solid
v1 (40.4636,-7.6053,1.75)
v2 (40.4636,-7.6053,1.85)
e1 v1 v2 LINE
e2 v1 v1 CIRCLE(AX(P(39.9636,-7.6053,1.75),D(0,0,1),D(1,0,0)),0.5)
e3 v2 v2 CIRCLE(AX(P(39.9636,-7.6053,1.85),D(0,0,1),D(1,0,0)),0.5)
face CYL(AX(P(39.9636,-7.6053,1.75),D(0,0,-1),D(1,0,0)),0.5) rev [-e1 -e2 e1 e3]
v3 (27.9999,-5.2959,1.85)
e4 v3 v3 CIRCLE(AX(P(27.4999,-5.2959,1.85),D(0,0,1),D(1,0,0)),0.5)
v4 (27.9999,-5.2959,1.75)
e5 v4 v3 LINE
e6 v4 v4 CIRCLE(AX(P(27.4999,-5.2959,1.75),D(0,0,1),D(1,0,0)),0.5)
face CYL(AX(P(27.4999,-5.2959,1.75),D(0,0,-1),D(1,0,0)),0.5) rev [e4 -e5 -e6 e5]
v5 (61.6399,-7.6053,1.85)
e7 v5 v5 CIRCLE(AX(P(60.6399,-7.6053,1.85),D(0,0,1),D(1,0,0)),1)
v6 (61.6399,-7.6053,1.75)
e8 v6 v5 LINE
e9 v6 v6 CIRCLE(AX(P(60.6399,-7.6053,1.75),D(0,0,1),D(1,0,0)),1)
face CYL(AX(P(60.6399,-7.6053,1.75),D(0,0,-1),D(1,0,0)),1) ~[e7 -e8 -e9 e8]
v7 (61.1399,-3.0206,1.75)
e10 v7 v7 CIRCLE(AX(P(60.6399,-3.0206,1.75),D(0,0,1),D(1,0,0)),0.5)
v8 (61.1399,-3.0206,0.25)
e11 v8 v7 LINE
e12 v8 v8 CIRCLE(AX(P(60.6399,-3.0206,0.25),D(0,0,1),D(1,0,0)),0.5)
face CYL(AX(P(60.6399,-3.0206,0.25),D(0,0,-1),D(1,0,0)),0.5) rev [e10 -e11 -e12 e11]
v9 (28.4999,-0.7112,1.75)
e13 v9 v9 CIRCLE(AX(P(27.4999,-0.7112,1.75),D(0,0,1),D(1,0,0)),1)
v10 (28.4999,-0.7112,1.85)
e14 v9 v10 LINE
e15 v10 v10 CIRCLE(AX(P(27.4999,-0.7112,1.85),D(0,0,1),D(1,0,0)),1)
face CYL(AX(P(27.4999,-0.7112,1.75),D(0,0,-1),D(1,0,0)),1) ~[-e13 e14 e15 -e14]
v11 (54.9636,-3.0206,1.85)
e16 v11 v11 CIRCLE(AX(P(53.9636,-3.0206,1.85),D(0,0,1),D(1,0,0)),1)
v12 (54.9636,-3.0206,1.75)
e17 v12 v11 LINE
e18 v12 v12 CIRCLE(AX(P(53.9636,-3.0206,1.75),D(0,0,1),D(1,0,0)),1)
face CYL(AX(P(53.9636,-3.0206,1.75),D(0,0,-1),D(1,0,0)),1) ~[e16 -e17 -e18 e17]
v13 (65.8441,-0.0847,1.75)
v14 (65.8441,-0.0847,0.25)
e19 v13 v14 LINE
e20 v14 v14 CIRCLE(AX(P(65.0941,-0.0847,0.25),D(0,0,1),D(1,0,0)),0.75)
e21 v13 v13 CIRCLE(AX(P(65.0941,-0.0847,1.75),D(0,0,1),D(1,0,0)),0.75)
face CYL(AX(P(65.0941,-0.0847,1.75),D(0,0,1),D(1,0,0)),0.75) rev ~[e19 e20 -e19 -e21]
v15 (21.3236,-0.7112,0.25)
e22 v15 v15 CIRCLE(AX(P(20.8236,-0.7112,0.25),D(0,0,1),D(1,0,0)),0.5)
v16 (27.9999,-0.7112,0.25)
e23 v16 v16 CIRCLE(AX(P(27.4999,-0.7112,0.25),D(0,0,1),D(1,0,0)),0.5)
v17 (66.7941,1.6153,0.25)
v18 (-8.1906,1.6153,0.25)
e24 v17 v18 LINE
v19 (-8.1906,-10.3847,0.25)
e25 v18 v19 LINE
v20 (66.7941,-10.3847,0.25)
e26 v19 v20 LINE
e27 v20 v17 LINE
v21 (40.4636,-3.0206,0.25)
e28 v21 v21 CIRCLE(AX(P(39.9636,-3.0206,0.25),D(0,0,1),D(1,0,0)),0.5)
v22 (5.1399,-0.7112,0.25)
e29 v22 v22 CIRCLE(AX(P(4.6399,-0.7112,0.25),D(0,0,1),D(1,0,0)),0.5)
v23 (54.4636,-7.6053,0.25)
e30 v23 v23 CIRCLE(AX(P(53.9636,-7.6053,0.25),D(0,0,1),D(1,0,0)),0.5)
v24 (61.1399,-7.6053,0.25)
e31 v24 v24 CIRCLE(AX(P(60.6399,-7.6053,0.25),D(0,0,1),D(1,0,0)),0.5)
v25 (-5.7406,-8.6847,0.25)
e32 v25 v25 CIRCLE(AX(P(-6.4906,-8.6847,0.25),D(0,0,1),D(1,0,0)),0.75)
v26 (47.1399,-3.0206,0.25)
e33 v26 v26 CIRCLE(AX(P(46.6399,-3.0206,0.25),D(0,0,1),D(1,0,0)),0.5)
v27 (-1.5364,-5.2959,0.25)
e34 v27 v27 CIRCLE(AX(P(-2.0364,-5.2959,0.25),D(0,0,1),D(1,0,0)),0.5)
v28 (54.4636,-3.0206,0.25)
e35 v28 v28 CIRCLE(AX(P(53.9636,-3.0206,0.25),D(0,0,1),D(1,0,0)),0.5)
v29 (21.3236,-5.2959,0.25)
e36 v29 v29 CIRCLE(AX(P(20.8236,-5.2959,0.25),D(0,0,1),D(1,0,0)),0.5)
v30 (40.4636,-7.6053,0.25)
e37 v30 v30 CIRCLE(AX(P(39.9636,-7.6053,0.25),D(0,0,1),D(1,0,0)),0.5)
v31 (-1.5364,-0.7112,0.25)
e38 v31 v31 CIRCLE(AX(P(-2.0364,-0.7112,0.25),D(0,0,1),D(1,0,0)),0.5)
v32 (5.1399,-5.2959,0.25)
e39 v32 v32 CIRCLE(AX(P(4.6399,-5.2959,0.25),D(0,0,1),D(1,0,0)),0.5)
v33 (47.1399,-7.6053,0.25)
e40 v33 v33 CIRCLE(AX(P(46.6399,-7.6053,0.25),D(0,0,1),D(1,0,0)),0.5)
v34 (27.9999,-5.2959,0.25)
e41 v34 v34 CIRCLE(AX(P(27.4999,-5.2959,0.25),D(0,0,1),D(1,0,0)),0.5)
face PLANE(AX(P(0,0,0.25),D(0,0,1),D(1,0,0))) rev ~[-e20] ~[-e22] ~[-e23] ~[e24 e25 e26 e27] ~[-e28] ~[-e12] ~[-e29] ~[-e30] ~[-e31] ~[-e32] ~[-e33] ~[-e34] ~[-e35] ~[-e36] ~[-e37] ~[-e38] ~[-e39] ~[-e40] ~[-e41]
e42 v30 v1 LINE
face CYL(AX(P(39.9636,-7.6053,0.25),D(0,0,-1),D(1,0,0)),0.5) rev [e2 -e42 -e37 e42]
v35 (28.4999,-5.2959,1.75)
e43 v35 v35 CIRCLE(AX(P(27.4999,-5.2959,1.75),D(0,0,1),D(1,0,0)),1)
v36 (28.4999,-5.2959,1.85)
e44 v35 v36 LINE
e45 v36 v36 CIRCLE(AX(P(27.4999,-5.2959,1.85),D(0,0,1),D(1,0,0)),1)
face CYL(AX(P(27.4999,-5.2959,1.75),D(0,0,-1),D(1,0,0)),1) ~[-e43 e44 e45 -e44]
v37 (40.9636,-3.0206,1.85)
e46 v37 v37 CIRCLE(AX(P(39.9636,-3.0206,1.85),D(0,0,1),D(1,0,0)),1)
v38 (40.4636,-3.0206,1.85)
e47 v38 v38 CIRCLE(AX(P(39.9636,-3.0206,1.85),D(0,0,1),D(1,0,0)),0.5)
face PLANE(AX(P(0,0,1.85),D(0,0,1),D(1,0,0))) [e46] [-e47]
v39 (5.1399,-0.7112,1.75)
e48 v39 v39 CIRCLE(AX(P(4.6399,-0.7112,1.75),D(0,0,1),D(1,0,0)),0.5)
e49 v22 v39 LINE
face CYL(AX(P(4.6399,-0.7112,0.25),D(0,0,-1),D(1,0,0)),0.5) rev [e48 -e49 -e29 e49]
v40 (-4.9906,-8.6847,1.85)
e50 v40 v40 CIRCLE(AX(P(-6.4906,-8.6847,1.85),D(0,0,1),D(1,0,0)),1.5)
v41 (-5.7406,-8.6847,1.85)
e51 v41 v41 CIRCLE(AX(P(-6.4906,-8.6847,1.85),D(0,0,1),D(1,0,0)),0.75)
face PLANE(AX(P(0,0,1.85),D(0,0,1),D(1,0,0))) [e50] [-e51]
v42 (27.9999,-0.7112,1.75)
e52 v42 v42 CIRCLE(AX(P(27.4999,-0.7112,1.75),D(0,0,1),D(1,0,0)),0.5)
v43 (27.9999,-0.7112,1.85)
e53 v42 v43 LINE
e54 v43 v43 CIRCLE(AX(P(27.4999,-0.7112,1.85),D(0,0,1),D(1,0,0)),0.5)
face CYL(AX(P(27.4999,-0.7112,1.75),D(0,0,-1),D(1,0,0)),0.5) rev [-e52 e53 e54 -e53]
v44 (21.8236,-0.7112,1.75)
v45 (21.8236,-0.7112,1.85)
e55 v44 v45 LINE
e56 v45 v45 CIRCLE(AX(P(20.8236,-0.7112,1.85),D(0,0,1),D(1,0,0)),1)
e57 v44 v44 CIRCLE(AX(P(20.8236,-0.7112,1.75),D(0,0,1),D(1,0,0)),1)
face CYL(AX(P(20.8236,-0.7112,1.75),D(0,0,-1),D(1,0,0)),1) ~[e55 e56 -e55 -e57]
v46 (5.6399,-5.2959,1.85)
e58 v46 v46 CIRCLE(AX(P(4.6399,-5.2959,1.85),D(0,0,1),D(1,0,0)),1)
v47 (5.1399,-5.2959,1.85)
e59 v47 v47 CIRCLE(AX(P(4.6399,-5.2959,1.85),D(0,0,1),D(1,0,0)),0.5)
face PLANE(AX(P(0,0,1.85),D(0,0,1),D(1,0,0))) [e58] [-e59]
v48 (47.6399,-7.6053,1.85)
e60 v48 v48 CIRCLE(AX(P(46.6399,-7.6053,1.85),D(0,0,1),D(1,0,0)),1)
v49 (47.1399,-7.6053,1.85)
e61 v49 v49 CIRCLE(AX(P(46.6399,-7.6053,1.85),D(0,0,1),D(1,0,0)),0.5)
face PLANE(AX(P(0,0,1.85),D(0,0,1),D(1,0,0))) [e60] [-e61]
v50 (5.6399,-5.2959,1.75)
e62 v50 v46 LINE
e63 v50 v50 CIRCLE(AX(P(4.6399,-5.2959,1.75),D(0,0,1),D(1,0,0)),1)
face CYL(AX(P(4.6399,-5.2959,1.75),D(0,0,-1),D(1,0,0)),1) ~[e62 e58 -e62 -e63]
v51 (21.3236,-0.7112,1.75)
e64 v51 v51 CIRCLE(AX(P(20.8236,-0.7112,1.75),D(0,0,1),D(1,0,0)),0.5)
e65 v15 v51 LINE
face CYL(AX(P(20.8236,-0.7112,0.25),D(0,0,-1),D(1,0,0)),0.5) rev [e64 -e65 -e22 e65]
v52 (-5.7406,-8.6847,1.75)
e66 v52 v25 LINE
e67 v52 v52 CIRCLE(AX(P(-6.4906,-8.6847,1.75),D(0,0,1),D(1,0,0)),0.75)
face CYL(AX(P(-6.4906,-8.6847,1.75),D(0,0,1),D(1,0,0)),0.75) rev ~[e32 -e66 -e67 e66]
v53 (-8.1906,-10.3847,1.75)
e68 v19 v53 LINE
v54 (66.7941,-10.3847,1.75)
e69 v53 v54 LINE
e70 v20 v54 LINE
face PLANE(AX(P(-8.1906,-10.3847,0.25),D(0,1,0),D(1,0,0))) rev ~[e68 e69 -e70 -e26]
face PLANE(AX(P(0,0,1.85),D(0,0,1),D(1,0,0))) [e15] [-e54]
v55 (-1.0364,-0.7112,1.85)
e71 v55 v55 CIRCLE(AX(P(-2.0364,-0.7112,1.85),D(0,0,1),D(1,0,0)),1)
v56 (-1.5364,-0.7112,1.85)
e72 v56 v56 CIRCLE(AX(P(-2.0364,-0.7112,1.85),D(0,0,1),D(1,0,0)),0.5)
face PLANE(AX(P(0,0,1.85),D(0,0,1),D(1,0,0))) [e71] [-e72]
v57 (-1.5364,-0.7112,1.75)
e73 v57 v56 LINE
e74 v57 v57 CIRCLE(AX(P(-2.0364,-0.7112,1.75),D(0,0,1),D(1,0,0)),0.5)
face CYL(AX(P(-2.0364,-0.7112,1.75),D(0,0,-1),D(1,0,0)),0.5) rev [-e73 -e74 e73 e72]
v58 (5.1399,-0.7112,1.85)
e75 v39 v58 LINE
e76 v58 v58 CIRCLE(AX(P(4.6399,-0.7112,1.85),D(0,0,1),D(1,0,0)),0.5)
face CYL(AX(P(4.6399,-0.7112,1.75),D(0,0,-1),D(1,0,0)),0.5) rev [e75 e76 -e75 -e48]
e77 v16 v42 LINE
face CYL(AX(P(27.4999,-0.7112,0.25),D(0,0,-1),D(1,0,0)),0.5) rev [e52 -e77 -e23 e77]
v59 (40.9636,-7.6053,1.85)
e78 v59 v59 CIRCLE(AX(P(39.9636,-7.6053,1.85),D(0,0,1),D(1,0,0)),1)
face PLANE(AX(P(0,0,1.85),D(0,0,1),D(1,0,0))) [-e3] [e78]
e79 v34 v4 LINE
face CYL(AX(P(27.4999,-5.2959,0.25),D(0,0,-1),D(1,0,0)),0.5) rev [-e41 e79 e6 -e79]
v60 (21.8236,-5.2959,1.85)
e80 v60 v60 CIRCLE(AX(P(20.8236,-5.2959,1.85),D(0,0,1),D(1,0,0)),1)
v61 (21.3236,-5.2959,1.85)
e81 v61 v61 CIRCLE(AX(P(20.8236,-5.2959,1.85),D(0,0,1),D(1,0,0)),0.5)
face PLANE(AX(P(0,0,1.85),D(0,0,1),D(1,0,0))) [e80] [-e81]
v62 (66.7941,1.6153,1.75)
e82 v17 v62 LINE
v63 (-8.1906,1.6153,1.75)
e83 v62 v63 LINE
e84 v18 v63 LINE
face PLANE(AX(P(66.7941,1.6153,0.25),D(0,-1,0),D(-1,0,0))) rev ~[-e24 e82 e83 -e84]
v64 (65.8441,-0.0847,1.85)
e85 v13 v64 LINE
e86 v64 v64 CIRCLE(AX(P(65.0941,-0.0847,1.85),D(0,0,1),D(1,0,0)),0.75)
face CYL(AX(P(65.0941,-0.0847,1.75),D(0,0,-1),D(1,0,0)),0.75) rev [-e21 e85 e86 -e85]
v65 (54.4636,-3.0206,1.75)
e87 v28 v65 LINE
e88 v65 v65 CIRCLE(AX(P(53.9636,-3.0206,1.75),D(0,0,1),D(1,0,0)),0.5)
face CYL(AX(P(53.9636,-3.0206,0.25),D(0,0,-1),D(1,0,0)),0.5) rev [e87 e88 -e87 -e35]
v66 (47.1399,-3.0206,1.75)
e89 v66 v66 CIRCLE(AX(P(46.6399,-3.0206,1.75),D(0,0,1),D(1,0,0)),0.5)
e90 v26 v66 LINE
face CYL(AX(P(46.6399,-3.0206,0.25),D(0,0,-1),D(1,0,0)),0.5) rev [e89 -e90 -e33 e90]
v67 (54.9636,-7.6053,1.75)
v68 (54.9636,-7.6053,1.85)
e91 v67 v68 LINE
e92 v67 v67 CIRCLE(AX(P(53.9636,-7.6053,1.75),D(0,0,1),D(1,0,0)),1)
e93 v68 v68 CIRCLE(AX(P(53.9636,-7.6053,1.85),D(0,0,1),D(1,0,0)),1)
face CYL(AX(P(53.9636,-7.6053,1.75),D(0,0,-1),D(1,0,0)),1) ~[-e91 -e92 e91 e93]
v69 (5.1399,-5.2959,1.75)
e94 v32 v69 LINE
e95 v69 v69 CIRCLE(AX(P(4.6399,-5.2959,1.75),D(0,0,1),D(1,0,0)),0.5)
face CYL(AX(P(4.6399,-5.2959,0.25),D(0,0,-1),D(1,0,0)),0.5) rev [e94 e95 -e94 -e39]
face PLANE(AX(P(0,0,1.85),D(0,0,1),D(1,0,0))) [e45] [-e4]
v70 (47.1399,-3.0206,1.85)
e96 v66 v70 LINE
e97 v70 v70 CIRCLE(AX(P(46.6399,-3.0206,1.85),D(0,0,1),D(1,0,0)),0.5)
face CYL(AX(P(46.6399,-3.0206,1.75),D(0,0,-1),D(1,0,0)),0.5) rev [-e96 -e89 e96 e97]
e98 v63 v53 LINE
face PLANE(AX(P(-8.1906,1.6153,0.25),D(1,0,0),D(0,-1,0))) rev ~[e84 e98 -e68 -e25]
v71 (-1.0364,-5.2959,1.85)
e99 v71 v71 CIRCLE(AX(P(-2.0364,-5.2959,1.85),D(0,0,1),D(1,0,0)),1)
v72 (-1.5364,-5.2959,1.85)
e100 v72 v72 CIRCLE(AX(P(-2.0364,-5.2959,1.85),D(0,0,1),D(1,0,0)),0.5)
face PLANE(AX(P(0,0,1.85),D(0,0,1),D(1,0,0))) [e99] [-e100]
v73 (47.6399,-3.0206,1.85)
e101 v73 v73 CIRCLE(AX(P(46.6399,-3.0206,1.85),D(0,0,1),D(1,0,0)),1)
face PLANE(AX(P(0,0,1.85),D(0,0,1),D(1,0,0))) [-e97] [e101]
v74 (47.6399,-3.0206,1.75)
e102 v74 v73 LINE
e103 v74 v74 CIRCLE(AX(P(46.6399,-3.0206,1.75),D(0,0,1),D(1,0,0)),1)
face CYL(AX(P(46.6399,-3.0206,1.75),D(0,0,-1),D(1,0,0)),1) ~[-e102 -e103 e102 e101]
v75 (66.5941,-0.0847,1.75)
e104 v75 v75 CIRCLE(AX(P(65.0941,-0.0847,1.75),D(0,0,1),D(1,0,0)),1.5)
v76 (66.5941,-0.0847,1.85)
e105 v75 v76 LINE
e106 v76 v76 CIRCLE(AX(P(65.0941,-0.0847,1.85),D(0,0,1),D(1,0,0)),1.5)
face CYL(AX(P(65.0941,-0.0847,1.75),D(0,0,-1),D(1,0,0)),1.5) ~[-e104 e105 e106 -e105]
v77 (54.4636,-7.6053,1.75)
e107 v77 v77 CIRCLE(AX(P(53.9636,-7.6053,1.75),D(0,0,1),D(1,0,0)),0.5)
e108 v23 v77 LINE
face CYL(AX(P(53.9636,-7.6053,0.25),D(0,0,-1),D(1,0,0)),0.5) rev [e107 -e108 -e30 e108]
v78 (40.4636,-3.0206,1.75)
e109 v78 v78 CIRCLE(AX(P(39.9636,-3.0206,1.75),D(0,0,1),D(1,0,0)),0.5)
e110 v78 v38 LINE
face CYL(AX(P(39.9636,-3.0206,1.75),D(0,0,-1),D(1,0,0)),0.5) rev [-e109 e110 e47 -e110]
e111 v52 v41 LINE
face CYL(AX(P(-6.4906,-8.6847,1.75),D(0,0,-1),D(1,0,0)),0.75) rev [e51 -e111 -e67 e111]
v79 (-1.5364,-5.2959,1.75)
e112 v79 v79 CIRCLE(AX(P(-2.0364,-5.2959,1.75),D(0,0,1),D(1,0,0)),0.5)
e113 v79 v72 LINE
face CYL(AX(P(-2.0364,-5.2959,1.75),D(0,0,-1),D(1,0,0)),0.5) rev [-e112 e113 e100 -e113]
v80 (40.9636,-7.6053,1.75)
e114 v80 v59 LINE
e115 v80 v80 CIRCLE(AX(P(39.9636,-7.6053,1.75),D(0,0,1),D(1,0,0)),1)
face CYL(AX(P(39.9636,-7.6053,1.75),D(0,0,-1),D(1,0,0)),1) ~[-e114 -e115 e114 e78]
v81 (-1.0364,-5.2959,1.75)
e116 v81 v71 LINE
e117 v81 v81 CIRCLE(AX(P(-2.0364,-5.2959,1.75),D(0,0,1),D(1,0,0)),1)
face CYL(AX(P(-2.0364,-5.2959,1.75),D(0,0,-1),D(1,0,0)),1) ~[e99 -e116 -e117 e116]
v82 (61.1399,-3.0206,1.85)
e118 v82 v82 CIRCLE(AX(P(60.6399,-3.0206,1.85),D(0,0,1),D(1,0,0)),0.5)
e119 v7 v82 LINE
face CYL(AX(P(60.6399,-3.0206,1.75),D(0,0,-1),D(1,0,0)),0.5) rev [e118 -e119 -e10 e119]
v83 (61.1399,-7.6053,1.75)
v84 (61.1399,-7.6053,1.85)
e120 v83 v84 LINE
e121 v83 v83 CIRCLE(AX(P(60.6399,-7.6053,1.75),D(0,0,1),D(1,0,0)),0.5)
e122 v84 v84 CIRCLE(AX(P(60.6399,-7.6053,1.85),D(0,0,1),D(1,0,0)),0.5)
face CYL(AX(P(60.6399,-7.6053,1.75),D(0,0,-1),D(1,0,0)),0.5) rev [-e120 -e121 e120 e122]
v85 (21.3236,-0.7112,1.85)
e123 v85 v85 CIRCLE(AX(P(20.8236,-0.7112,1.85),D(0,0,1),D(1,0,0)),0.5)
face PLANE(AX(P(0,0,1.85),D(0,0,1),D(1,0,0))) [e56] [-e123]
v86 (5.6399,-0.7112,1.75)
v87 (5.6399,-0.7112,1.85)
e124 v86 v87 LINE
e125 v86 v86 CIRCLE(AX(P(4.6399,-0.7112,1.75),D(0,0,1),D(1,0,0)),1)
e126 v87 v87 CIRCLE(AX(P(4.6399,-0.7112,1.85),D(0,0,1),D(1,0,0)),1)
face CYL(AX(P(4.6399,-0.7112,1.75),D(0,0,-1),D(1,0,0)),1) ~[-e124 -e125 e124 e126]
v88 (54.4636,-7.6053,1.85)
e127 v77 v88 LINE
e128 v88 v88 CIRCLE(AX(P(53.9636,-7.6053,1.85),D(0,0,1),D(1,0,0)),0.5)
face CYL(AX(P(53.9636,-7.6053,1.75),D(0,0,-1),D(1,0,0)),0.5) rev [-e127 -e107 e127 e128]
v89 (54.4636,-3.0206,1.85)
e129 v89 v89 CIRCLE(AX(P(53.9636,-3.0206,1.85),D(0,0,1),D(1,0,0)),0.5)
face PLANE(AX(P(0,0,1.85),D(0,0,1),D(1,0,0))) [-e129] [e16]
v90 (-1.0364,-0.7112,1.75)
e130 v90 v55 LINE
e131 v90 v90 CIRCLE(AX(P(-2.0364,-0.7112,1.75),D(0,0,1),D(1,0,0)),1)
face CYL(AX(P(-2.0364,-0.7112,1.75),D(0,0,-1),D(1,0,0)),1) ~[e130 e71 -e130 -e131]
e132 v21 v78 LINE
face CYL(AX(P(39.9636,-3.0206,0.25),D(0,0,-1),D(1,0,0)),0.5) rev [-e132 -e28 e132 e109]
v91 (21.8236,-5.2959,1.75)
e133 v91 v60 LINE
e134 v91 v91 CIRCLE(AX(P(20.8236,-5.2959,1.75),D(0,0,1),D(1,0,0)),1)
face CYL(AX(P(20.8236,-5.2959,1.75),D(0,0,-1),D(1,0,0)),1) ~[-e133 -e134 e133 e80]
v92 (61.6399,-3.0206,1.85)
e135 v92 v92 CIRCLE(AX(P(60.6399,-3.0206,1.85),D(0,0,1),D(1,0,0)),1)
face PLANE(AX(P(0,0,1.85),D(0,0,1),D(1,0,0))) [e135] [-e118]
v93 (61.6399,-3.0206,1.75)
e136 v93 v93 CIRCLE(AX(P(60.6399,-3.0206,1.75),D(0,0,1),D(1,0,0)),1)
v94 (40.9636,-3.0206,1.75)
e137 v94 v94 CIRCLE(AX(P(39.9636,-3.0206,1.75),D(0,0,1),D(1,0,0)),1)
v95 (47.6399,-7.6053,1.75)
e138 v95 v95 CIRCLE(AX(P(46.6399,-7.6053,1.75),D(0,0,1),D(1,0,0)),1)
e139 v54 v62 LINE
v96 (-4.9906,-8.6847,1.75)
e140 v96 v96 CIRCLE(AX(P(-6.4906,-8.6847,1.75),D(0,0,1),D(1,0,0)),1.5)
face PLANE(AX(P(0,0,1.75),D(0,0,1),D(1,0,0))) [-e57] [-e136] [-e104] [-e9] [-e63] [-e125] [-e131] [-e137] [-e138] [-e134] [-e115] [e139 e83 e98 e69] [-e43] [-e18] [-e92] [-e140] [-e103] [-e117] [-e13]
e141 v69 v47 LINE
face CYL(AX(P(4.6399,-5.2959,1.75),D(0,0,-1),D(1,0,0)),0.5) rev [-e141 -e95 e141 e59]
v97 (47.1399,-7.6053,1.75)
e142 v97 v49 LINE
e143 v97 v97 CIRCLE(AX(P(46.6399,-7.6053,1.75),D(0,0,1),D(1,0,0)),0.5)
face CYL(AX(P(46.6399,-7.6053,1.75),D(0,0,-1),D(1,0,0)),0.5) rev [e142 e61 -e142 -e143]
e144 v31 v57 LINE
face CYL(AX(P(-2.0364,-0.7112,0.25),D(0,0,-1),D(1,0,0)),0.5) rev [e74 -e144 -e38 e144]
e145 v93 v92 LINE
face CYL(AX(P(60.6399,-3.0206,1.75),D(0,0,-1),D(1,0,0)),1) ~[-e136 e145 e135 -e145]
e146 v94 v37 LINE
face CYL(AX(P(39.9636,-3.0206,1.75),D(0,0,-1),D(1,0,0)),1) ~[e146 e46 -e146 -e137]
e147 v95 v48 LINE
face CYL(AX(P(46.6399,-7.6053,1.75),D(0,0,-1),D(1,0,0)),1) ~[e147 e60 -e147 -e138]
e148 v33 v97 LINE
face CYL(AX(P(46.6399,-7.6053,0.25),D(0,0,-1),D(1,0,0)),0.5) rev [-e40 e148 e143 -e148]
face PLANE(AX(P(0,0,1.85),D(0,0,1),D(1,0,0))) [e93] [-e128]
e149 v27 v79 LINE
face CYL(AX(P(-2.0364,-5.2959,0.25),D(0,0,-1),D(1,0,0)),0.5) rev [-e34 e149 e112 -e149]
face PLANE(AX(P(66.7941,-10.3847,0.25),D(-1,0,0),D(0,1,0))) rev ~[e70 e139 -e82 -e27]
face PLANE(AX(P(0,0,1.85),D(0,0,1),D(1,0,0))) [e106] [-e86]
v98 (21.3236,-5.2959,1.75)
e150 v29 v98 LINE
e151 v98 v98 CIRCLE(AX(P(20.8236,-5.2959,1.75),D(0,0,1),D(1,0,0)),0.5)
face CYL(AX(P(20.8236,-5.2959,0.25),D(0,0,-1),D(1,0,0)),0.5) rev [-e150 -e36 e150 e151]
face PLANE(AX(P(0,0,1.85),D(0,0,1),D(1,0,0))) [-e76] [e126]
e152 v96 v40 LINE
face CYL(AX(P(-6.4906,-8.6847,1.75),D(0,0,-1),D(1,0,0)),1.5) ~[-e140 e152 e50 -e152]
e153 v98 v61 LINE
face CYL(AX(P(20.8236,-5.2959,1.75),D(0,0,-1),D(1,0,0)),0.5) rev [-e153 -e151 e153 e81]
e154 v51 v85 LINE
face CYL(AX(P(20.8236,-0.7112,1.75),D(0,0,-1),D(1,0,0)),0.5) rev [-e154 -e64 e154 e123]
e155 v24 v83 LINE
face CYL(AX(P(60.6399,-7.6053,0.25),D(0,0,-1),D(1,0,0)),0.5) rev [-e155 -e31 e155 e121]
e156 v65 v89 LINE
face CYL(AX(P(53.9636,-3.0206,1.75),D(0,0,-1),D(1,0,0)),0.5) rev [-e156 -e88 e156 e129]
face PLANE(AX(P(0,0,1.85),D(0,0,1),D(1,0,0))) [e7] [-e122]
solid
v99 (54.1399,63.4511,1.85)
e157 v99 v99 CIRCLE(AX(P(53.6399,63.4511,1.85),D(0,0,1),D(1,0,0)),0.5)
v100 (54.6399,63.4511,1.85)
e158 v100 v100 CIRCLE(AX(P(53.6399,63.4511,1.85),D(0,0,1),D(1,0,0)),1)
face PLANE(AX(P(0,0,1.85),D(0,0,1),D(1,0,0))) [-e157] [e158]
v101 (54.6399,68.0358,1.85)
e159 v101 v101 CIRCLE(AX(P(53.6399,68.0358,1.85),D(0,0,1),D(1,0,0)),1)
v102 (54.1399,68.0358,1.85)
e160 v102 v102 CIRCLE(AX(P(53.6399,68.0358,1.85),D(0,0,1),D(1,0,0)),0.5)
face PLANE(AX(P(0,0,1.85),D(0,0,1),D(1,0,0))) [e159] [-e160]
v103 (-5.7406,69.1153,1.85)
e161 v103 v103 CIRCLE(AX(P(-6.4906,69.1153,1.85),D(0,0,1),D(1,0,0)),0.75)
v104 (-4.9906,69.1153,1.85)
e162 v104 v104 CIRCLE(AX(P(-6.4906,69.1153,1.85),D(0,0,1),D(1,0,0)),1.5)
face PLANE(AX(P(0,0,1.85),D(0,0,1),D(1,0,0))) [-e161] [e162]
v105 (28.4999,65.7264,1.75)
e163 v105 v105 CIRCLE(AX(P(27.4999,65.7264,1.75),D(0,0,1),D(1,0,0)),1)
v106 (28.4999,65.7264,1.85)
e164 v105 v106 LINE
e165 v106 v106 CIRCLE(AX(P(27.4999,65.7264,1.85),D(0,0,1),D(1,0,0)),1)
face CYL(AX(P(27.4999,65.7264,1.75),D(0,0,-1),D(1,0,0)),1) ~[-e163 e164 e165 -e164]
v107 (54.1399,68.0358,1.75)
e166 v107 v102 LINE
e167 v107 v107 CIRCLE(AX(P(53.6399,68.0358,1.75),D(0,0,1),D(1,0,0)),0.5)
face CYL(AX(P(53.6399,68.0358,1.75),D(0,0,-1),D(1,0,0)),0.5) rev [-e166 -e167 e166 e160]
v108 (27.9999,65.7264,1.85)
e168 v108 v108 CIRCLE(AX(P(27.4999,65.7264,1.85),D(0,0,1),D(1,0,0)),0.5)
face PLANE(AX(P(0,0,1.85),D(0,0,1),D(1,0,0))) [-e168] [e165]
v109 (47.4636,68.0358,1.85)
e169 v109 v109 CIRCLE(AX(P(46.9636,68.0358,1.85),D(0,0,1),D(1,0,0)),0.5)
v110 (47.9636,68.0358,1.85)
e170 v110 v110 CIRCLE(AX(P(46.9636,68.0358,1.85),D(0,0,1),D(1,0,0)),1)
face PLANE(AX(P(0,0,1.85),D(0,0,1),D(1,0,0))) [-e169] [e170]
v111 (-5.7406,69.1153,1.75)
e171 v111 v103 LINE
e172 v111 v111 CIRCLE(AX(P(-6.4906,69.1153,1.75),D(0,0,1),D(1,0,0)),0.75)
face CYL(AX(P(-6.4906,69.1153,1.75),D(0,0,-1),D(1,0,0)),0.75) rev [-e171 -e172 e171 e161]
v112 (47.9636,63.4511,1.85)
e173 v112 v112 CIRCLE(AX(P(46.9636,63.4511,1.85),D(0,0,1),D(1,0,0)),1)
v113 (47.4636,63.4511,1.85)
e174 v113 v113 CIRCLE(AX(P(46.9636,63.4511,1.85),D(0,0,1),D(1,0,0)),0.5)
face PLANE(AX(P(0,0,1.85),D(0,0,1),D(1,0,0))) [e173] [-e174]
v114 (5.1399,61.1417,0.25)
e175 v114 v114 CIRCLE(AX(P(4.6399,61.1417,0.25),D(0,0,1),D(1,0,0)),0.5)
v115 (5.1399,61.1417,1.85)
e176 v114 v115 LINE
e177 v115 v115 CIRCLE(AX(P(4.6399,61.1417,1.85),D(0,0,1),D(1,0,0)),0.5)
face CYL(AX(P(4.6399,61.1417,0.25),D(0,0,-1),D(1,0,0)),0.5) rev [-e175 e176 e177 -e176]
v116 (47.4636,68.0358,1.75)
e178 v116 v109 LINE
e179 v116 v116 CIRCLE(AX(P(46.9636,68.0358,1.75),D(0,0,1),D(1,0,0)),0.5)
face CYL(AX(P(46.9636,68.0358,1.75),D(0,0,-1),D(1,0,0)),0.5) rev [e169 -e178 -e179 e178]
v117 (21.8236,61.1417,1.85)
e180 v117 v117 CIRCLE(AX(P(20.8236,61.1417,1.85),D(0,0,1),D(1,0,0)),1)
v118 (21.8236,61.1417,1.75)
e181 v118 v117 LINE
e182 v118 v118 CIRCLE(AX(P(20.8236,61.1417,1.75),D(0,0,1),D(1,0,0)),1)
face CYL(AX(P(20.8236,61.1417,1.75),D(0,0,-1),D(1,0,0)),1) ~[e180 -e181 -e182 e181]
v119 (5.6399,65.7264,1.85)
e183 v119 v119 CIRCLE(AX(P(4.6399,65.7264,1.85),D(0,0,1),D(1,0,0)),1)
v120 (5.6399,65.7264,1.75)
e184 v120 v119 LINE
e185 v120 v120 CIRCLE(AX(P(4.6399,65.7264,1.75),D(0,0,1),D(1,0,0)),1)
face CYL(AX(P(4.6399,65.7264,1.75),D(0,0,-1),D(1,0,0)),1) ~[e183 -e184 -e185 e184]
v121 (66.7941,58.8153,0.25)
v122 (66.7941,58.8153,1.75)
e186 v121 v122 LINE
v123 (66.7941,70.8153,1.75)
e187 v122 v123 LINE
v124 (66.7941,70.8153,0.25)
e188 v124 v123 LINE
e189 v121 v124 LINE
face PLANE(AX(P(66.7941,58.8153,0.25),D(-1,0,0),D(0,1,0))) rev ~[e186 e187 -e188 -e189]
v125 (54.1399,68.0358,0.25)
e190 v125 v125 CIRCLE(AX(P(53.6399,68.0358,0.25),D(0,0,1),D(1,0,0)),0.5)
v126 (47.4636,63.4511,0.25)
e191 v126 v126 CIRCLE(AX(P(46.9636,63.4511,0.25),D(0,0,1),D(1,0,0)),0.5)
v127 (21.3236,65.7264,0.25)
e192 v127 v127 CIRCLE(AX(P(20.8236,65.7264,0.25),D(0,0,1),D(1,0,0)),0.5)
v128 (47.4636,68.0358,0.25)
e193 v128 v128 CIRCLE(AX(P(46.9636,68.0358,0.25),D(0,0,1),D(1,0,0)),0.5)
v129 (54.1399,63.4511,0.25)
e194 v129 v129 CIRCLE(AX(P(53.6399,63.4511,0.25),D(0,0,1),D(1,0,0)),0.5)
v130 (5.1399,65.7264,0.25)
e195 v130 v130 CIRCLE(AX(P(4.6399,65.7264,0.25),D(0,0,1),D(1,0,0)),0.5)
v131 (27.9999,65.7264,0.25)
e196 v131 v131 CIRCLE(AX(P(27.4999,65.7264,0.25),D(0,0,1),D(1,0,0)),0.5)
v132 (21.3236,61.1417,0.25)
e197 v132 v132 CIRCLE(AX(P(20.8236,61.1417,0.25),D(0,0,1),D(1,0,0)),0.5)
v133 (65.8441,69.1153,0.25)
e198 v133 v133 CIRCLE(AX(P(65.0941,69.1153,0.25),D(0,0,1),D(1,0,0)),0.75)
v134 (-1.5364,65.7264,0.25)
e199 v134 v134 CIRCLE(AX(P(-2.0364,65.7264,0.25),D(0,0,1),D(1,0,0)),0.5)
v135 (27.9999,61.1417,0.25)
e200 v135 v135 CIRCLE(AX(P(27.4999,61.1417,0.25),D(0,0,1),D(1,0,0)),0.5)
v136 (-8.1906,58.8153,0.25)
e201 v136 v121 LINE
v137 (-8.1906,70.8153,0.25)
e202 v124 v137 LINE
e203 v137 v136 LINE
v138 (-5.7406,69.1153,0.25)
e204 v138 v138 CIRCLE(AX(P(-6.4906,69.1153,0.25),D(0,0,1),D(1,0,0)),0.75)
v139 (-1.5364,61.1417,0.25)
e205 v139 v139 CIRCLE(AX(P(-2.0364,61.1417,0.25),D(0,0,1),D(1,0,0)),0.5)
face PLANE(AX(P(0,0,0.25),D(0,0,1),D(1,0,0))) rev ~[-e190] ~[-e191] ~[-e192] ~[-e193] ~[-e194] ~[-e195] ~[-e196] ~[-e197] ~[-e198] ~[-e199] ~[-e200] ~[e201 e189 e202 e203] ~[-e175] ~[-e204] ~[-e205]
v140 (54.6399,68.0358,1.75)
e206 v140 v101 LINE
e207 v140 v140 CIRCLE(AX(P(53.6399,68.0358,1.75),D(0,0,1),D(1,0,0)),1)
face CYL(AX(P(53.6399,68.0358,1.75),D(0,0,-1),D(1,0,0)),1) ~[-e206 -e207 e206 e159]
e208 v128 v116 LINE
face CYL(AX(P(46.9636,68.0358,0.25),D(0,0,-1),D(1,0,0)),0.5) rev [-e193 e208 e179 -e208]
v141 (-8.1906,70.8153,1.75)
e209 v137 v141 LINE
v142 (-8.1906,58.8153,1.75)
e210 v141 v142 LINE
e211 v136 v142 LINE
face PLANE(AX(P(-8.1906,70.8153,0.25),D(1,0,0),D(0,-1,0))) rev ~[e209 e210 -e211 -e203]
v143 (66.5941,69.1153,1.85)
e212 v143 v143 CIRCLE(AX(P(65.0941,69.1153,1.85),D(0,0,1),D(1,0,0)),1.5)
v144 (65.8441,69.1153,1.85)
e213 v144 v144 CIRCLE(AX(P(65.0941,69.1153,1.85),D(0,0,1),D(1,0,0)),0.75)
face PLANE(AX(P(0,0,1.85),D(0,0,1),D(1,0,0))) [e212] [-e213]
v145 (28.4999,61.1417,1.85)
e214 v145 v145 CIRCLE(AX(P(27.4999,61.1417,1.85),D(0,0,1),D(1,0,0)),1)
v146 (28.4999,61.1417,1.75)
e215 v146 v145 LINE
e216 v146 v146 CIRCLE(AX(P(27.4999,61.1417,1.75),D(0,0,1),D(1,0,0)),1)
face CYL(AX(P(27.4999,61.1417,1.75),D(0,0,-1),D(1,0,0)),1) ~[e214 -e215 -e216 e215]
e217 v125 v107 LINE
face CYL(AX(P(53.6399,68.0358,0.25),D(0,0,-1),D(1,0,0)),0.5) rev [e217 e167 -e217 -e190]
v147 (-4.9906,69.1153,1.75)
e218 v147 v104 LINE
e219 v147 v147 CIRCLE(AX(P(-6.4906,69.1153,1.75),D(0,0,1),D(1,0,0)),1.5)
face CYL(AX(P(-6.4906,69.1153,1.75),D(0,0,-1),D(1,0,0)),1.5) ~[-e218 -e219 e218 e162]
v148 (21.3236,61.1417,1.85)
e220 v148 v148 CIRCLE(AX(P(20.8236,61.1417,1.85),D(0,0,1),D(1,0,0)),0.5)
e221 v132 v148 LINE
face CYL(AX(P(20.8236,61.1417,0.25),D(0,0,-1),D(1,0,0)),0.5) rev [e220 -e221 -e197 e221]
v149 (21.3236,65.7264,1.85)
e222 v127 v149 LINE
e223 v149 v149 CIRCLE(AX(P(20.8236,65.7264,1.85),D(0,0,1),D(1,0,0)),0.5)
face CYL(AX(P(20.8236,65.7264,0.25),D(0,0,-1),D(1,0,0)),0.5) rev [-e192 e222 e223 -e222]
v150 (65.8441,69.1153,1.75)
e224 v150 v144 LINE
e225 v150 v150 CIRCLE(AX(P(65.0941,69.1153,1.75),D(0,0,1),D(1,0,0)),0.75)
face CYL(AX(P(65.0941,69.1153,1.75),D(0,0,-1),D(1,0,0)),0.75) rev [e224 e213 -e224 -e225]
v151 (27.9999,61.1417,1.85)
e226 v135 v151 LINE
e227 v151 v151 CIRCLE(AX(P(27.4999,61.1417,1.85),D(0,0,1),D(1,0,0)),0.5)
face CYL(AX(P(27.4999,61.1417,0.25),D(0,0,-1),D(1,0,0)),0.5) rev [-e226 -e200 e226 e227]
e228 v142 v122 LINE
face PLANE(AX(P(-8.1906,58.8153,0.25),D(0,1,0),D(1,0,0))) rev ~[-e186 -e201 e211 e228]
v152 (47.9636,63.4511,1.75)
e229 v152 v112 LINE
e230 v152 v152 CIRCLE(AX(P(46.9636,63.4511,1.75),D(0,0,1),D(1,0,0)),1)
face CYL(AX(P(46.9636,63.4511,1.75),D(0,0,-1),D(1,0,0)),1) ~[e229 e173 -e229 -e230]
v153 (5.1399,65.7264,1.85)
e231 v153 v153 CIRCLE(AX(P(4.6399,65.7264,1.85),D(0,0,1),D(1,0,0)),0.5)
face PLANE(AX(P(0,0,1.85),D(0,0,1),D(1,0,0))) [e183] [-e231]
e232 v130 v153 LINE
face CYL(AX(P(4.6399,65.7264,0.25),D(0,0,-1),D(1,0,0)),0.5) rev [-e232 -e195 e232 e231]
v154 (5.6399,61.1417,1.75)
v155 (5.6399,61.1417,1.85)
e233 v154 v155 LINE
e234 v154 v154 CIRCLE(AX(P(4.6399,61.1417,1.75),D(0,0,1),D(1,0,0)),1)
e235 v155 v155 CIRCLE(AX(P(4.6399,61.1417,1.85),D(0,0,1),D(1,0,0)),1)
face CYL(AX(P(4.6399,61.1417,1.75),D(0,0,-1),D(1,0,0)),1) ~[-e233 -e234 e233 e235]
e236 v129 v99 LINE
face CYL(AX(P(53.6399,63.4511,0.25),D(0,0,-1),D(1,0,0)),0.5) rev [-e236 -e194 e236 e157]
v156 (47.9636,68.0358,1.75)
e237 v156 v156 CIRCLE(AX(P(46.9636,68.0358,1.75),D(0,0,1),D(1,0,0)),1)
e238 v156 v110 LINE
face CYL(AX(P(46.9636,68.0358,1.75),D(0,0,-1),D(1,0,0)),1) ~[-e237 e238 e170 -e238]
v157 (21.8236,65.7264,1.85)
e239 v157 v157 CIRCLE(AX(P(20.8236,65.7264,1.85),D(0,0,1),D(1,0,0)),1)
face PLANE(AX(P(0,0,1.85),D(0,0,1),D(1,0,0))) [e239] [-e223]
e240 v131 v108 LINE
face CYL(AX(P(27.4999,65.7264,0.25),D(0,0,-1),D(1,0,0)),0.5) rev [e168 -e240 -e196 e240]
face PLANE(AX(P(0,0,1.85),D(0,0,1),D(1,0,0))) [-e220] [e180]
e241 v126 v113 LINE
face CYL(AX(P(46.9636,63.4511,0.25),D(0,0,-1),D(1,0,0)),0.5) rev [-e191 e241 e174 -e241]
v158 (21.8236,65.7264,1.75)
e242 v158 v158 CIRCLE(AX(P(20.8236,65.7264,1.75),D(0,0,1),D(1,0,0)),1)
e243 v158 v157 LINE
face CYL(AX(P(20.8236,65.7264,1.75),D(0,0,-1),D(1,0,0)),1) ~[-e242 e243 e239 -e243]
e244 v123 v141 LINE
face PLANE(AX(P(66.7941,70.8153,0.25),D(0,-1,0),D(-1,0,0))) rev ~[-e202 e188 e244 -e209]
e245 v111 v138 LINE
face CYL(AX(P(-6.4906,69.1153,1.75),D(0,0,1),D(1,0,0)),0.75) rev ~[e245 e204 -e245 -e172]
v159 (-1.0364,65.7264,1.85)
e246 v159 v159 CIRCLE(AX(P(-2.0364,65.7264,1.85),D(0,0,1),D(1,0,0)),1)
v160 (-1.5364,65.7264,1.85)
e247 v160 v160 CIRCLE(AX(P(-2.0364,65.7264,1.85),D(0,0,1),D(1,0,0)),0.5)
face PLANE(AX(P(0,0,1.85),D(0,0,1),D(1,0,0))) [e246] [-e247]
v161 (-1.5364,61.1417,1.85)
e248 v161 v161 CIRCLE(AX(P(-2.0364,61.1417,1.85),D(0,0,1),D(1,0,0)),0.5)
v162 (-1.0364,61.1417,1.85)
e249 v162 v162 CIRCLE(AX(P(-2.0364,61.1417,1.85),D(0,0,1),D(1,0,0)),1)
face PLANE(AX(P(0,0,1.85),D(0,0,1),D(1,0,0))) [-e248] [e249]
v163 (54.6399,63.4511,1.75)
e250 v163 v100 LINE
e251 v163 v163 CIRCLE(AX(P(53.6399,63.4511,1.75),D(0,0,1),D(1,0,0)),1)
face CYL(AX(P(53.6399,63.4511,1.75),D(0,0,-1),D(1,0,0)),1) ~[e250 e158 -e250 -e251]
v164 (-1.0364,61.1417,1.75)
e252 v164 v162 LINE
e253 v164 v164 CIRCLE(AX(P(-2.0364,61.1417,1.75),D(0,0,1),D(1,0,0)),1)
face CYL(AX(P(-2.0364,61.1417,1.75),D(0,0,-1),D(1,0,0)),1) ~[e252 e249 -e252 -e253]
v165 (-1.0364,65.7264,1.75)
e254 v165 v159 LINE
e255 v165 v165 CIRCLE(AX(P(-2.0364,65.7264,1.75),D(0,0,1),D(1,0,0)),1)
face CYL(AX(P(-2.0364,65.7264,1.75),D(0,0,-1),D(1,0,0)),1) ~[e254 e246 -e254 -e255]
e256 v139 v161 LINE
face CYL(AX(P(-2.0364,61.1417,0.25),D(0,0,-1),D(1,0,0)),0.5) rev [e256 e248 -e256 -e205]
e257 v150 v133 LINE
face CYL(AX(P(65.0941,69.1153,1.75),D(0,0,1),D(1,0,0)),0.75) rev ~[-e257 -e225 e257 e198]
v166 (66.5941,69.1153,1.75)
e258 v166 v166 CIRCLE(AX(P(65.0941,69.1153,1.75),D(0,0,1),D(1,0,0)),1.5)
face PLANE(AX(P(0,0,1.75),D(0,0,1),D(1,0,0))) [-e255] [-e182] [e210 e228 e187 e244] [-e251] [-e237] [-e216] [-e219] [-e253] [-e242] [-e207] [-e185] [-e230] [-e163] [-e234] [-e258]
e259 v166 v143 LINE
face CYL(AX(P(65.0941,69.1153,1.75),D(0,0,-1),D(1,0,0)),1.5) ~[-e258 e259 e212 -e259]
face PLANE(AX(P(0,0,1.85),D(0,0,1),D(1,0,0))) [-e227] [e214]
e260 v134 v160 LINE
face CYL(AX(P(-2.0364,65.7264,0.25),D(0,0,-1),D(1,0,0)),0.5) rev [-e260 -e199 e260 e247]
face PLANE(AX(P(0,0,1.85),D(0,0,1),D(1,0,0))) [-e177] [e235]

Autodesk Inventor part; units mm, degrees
ref_plane "YZ Plane" through (0, 0, 0) normal (1, 0, 0) x (0, 1, 0)
ref_plane "XZ Plane" through (0, 0, 0) normal (0, 1, 0) x (-1, 0, 0)
ref_plane "Work Plane1" through (0, 0, 0.25) normal (0, 0, 1) x (1, 0, 0)
sketch "Sketch1" plane through (0, 0, 0.25) normal (0, 0, 1) x (1, 0, 0)
  line L0 (4.3349, -0.3556) -> (4.6399, -0.3556) construction
  line L1 (4.6399, -0.3556) -> (4.6399, -1.0668) construction
  line L2 (4.6399, -1.0668) -> (4.3349, -1.0668) construction
  line L3 (4.3349, -1.0668) -> (4.3349, -0.3556) construction
  line L4 (-1.7314, -5.6515) -> (-2.0364, -5.6515) construction
  line L5 (-2.0364, -5.6515) -> (-2.0364, -4.9403) construction
  line L6 (-2.0364, -4.9403) -> (-1.7314, -4.9403) construction
  line L7 (-1.7314, -4.9403) -> (-1.7314, -5.6515) construction
  line L8 (-2.0364, -0.3556) -> (-1.7314, -0.3556) construction
  line L9 (-1.7314, -0.3556) -> (-1.7314, -1.0668) construction
  line L10 (-1.7314, -1.0668) -> (-2.0364, -1.0668) construction
  line L11 (-2.0364, -1.0668) -> (-2.0364, -0.3556) construction
  line L12 (4.3349, -4.9403) -> (4.6399, -4.9403) construction
  line L13 (4.6399, -4.9403) -> (4.6399, -5.6515) construction
  line L14 (4.6399, -5.6515) -> (4.3349, -5.6515) construction
  line L15 (4.3349, -5.6515) -> (4.3349, -4.9403) construction
  line L16 (27.1949, -0.3556) -> (27.4999, -0.3556) construction
  line L17 (27.4999, -0.3556) -> (27.4999, -1.0668) construction
  line L18 (27.4999, -1.0668) -> (27.1949, -1.0668) construction
  line L19 (27.1949, -1.0668) -> (27.1949, -0.3556) construction
  line L20 (21.1286, -5.6515) -> (20.8236, -5.6515) construction
  line L21 (20.8236, -5.6515) -> (20.8236, -4.9403) construction
  line L22 (20.8236, -4.9403) -> (21.1286, -4.9403) construction
  line L23 (21.1286, -4.9403) -> (21.1286, -5.6515) construction
  line L24 (20.8236, -0.3556) -> (21.1286, -0.3556) construction
  line L25 (21.1286, -0.3556) -> (21.1286, -1.0668) construction
  line L26 (21.1286, -1.0668) -> (20.8236, -1.0668) construction
  line L27 (20.8236, -1.0668) -> (20.8236, -0.3556) construction
  line L28 (27.1949, -4.9403) -> (27.4999, -4.9403) construction
  line L29 (27.4999, -4.9403) -> (27.4999, -5.6515) construction
  line L30 (27.4999, -5.6515) -> (27.1949, -5.6515) construction
  line L31 (27.1949, -5.6515) -> (27.1949, -4.9403) construction
  line L32 (46.3349, -2.665) -> (46.6399, -2.665) construction
  line L33 (46.6399, -2.665) -> (46.6399, -3.3762) construction
  line L34 (46.6399, -3.3762) -> (46.3349, -3.3762) construction
  line L35 (46.3349, -3.3762) -> (46.3349, -2.665) construction
  line L36 (40.2686, -7.9609) -> (39.9636, -7.9609) construction
  line L37 (39.9636, -7.9609) -> (39.9636, -7.2497) construction
  line L38 (39.9636, -7.2497) -> (40.2686, -7.2497) construction
  line L39 (40.2686, -7.2497) -> (40.2686, -7.9609) construction
  line L40 (39.9636, -2.665) -> (40.2686, -2.665) construction
  line L41 (40.2686, -2.665) -> (40.2686, -3.3762) construction
  line L42 (40.2686, -3.3762) -> (39.9636, -3.3762) construction
  line L43 (39.9636, -3.3762) -> (39.9636, -2.665) construction
  line L44 (46.3349, -7.2497) -> (46.6399, -7.2497) construction
  line L45 (46.6399, -7.2497) -> (46.6399, -7.9609) construction
  line L46 (46.6399, -7.9609) -> (46.3349, -7.9609) construction
  line L47 (46.3349, -7.9609) -> (46.3349, -7.2497) construction
  line L48 (60.3349, -2.665) -> (60.6399, -2.665) construction
  line L49 (60.6399, -2.665) -> (60.6399, -3.3762) construction
  line L50 (60.6399, -3.3762) -> (60.3349, -3.3762) construction
  line L51 (60.3349, -3.3762) -> (60.3349, -2.665) construction
  line L52 (54.2686, -7.9609) -> (53.9636, -7.9609) construction
  line L53 (53.9636, -7.9609) -> (53.9636, -7.2497) construction
  line L54 (53.9636, -7.2497) -> (54.2686, -7.2497) construction
  line L55 (54.2686, -7.2497) -> (54.2686, -7.9609) construction
  line L56 (53.9636, -2.665) -> (54.2686, -2.665) construction
  line L57 (54.2686, -2.665) -> (54.2686, -3.3762) construction
  line L58 (54.2686, -3.3762) -> (53.9636, -3.3762) construction
  line L59 (53.9636, -3.3762) -> (53.9636, -2.665) construction
  line L60 (60.3349, -7.2497) -> (60.6399, -7.2497) construction
  line L61 (60.6399, -7.2497) -> (60.6399, -7.9609) construction
  line L62 (60.6399, -7.9609) -> (60.3349, -7.9609) construction
  line L63 (60.3349, -7.9609) -> (60.3349, -7.2497) construction
  line L64 (4.3349, 66.082) -> (4.6399, 66.082) construction
  line L65 (4.6399, 66.082) -> (4.6399, 65.3708) construction
  line L66 (4.6399, 65.3708) -> (4.3349, 65.3708) construction
  line L67 (4.3349, 65.3708) -> (4.3349, 66.082) construction
  line L68 (-1.7314, 60.7861) -> (-2.0364, 60.7861) construction
  line L69 (-2.0364, 60.7861) -> (-2.0364, 61.4973) construction
  line L70 (-2.0364, 61.4973) -> (-1.7314, 61.4973) construction
  line L71 (-1.7314, 61.4973) -> (-1.7314, 60.7861) construction
  line L72 (-2.0364, 66.082) -> (-1.7314, 66.082) construction
  line L73 (-1.7314, 66.082) -> (-1.7314, 65.3708) construction
  line L74 (-1.7314, 65.3708) -> (-2.0364, 65.3708) construction
  line L75 (-2.0364, 65.3708) -> (-2.0364, 66.082) construction
  line L76 (4.3349, 61.4973) -> (4.6399, 61.4973) construction
  line L77 (4.6399, 61.4973) -> (4.6399, 60.7861) construction
  line L78 (4.6399, 60.7861) -> (4.3349, 60.7861) construction
  line L79 (4.3349, 60.7861) -> (4.3349, 61.4973) construction
  line L80 (27.1949, 66.082) -> (27.4999, 66.082) construction
  line L81 (27.4999, 66.082) -> (27.4999, 65.3708) construction
  line L82 (27.4999, 65.3708) -> (27.1949, 65.3708) construction
  line L83 (27.1949, 65.3708) -> (27.1949, 66.082) construction
  line L84 (21.1286, 60.7861) -> (20.8236, 60.7861) construction
  line L85 (20.8236, 60.7861) -> (20.8236, 61.4973) construction
  line L86 (20.8236, 61.4973) -> (21.1286, 61.4973) construction
  line L87 (21.1286, 61.4973) -> (21.1286, 60.7861) construction
  line L88 (20.8236, 66.082) -> (21.1286, 66.082) construction
  line L89 (21.1286, 66.082) -> (21.1286, 65.3708) construction
  line L90 (21.1286, 65.3708) -> (20.8236, 65.3708) construction
  line L91 (20.8236, 65.3708) -> (20.8236, 66.082) construction
  line L92 (27.1949, 61.4973) -> (27.4999, 61.4973) construction
  line L93 (27.4999, 61.4973) -> (27.4999, 60.7861) construction
  line L94 (27.4999, 60.7861) -> (27.1949, 60.7861) construction
  line L95 (27.1949, 60.7861) -> (27.1949, 61.4973) construction
  line L96 (47.2686, 63.0955) -> (46.9636, 63.0955) construction
  line L97 (46.9636, 63.0955) -> (46.9636, 63.8067) construction
  line L98 (46.9636, 63.8067) -> (47.2686, 63.8067) construction
  line L99 (47.2686, 63.8067) -> (47.2686, 63.0955) construction
  line L100 (53.3349, 68.3914) -> (53.6399, 68.3914) construction
  line L101 (53.6399, 68.3914) -> (53.6399, 67.6802) construction
  line L102 (53.6399, 67.6802) -> (53.3349, 67.6802) construction
  line L103 (53.3349, 67.6802) -> (53.3349, 68.3914) construction
  line L104 (53.6399, 63.0955) -> (53.3349, 63.0955) construction
  line L105 (53.3349, 63.0955) -> (53.3349, 63.8067) construction
  line L106 (53.3349, 63.8067) -> (53.6399, 63.8067) construction
  line L107 (53.6399, 63.8067) -> (53.6399, 63.0955) construction
  line L108 (47.2686, 67.6802) -> (46.9636, 67.6802) construction
  line L109 (46.9636, 67.6802) -> (46.9636, 68.3914) construction
  line L110 (46.9636, 68.3914) -> (47.2686, 68.3914) construction
  line L111 (47.2686, 68.3914) -> (47.2686, 67.6802) construction
  circle A0 centre (-2.0364, -5.2959) radius 0.5
  circle A1 centre (4.6399, -5.2959) radius 0.5
  circle A2 centre (4.6399, -0.7112) radius 0.5
  circle A3 centre (-2.0364, -0.7112) radius 0.5
  circle A4 centre (20.8236, -0.7112) radius 0.5
  circle A5 centre (20.8236, -5.2959) radius 0.5
  circle A6 centre (27.4999, -5.2959) radius 0.5
  circle A7 centre (27.4999, -0.7112) radius 0.5
  circle A8 centre (39.9636, -3.0206) radius 0.5
  circle A9 centre (39.9636, -7.6053) radius 0.5
  circle A10 centre (46.6399, -3.0206) radius 0.5
  circle A11 centre (46.6399, -7.6053) radius 0.5
  circle A12 centre (53.9636, -3.0206) radius 0.5
  circle A13 centre (53.9636, -7.6053) radius 0.5
  circle A14 centre (60.6399, -3.0206) radius 0.5
  circle A15 centre (60.6399, -7.6053) radius 0.5
  circle A16 centre (-2.0364, 65.7264) radius 0.5
  circle A17 centre (-2.0364, 61.1417) radius 0.5
  circle A18 centre (4.6399, 65.7264) radius 0.5
  circle A19 centre (4.6399, 61.1417) radius 0.5
  circle A20 centre (20.8236, 65.7264) radius 0.5
  circle A21 centre (20.8236, 61.1417) radius 0.5
  circle A22 centre (27.4999, 61.1417) radius 0.5
  circle A23 centre (27.4999, 65.7264) radius 0.5
  circle A24 centre (46.9636, 68.0358) radius 0.5
  circle A25 centre (46.9636, 63.4511) radius 0.5
  circle A26 centre (53.6399, 63.4511) radius 0.5
  circle A27 centre (53.6399, 68.0358) radius 0.5
  line L112 (66.7941, 1.6153) -> (-8.1906, 1.6153)
  line L113 (-8.1906, 1.6153) -> (-8.1906, -10.3847)
  line L114 (-8.1906, -10.3847) -> (66.7941, -10.3847)
  line L115 (66.7941, -10.3847) -> (66.7941, 1.6153)
  line L116 (-8.1906, 58.8153) -> (66.7941, 58.8153)
  line L117 (66.7941, 58.8153) -> (66.7941, 70.8153)
  line L118 (66.7941, 70.8153) -> (-8.1906, 70.8153)
  line L119 (-8.1906, 70.8153) -> (-8.1906, 58.8153)
  line L120 (33.3094, 57.8153) -> (-11.6662, 57.8153) construction
  line L121 (-11.6662, 2.6153) -> (63.2941, 2.6153) construction
  point P0 (0, 0)
  dimension "d1" = 1
  dimension "d4" = 12
  dimension "d5" = 12
  dimension "d10" = 1
  dimension "d11" = 1
  dimension "d12" = 74.9846
  dimension "d13" = 3.4756
extrude "Extrusion1" add sketch "Sketch1" along normal blind 1.5
sketch "Sketch2" plane through (0, 0, 1.75) normal (0, 0, 1) x (1, 0, 0)
  circle A0 centre (-6.4906, -8.6847) radius 0.75 projected
  circle A1 centre (65.0941, -0.0847) radius 0.75 projected
  circle A2 centre (65.0941, 69.1153) radius 0.75 projected
  circle A3 centre (-6.4906, 69.1153) radius 0.75 projected
  point P0 (0, 0)
extrude "Extrusion2" cut sketch "Sketch2" against normal through all
sketch "Sketch3" plane through (0, 0, 1.75) normal (0, 0, 1) x (1, 0, 0)
  circle A0 centre (65.0941, 69.1153) radius 0.75 projected
  circle A1 centre (-6.4906, 69.1153) radius 0.75 projected
  circle A2 centre (53.6399, 68.0358) radius 0.5 projected
  circle A3 centre (53.6399, 63.4511) radius 0.5 projected
  circle A4 centre (46.9636, 63.4511) radius 0.5 projected
  circle A5 centre (46.9636, 68.0358) radius 0.5 projected
  circle A6 centre (27.4999, 65.7264) radius 0.5 projected
  circle A7 centre (27.4999, 61.1417) radius 0.5 projected
  circle A8 centre (20.8236, 61.1417) radius 0.5 projected
  circle A9 centre (20.8236, 65.7264) radius 0.5 projected
  circle A10 centre (4.6399, 61.1417) radius 0.5 projected
  circle A11 centre (4.6399, 65.7264) radius 0.5 projected
  circle A12 centre (-2.0364, 61.1417) radius 0.5 projected
  circle A13 centre (-2.0364, 65.7264) radius 0.5 projected
  line L0 (-8.1906, 58.8153) -> (66.7941, 58.8153) projected
  line L1 (66.7941, 58.8153) -> (66.7941, 70.8153) projected
  line L2 (66.7941, 70.8153) -> (-8.1906, 70.8153) projected
  line L3 (-8.1906, 70.8153) -> (-8.1906, 58.8153) projected
  circle A14 centre (-6.4906, -8.6847) radius 0.75 projected
  circle A15 centre (65.0941, -0.0847) radius 0.75 projected
  circle A16 centre (60.6399, -7.6053) radius 0.5 projected
  circle A17 centre (60.6399, -3.0206) radius 0.5 projected
  circle A18 centre (53.9636, -7.6053) radius 0.5 projected
  circle A19 centre (53.9636, -3.0206) radius 0.5 projected
  circle A20 centre (46.6399, -7.6053) radius 0.5 projected
  circle A21 centre (46.6399, -3.0206) radius 0.5 projected
  circle A22 centre (39.9636, -7.6053) radius 0.5 projected
  circle A23 centre (39.9636, -3.0206) radius 0.5 projected
  circle A24 centre (27.4999, -0.7112) radius 0.5 projected
  circle A25 centre (27.4999, -5.2959) radius 0.5 projected
  circle A26 centre (20.8236, -5.2959) radius 0.5 projected
  circle A27 centre (20.8236, -0.7112) radius 0.5 projected
  circle A28 centre (-2.0364, -0.7112) radius 0.5 projected
  circle A29 centre (4.6399, -0.7112) radius 0.5 projected
  circle A30 centre (4.6399, -5.2959) radius 0.5 projected
  circle A31 centre (-2.0364, -5.2959) radius 0.5 projected
  line L4 (66.7941, 1.6153) -> (-8.1906, 1.6153) projected
  line L5 (-8.1906, 1.6153) -> (-8.1906, -10.3847) projected
  line L6 (-8.1906, -10.3847) -> (66.7941, -10.3847) projected
  line L7 (66.7941, -10.3847) -> (66.7941, 1.6153) projected
  circle A32 centre (46.9636, 68.0358) radius 1
  circle A33 centre (46.9636, 63.4511) radius 1
  circle A34 centre (53.6399, 63.4511) radius 1
  circle A35 centre (53.6399, 68.0358) radius 1
  circle A36 centre (27.4999, 65.7264) radius 1
  circle A37 centre (27.4999, 61.1417) radius 1
  circle A38 centre (20.8236, 61.1417) radius 1
  circle A39 centre (20.8236, 65.7264) radius 1
  circle A40 centre (4.6399, 65.7264) radius 1
  circle A41 centre (4.6399, 61.1417) radius 1
  circle A42 centre (-2.0364, 61.1417) radius 1
  circle A43 centre (-2.0364, 65.7264) radius 1
  circle A44 centre (60.6399, -3.0206) radius 1
  circle A45 centre (60.6399, -7.6053) radius 1
  circle A46 centre (53.9636, -7.6053) radius 0.5 projected
  circle A47 centre (53.9636, -7.6053) radius 1
  circle A48 centre (53.9636, -3.0206) radius 1
  circle A49 centre (46.6399, -3.0206) radius 0.5 projected
  circle A50 centre (46.6399, -3.0206) radius 1
  circle A51 centre (46.6399, -7.6053) radius 1
  circle A52 centre (39.9636, -7.6053) radius 1
  circle A53 centre (39.9636, -3.0206) radius 1
  circle A54 centre (27.4999, -0.7112) radius 1
  circle A55 centre (27.4999, -5.2959) radius 1
  circle A56 centre (20.8236, -5.2959) radius 1
  circle A57 centre (20.8236, -0.7112) radius 1
  circle A58 centre (4.6399, -0.7112) radius 1
  circle A59 centre (-2.0364, -0.7112) radius 0.5 projected
  circle A60 centre (-2.0364, -0.7112) radius 1
  circle A61 centre (-2.0364, -5.2959) radius 0.5 projected
  circle A62 centre (-2.0364, -5.2959) radius 1
  circle A63 centre (4.6399, -5.2959) radius 1
  circle A64 centre (65.0941, 69.1153) radius 1.5
  circle A65 centre (65.0941, -0.0847) radius 1.5
  circle A66 centre (-6.4906, 69.1153) radius 1.5
  circle A67 centre (-6.4906, -8.6847) radius 1.5
  point P0 (0, 0)
  dimension "d16" = 2
  dimension "d17" = 3
extrude "Extrusion3" add sketch "Sketch3" along normal blind 0.1 contours A32 | A33 | A34 | A35 | A36 | A37 | A38 | A39 | A40 | A41 | A42 | A43 | A44 | A45 | A47 | A48 | A50 | A51 | A52 | A53 | A54 | A55 | A56 | A57 | A58 | A60 | A62 | A63 | A64 | A65 | A66 | A67
properties part number "ui_pcb"
